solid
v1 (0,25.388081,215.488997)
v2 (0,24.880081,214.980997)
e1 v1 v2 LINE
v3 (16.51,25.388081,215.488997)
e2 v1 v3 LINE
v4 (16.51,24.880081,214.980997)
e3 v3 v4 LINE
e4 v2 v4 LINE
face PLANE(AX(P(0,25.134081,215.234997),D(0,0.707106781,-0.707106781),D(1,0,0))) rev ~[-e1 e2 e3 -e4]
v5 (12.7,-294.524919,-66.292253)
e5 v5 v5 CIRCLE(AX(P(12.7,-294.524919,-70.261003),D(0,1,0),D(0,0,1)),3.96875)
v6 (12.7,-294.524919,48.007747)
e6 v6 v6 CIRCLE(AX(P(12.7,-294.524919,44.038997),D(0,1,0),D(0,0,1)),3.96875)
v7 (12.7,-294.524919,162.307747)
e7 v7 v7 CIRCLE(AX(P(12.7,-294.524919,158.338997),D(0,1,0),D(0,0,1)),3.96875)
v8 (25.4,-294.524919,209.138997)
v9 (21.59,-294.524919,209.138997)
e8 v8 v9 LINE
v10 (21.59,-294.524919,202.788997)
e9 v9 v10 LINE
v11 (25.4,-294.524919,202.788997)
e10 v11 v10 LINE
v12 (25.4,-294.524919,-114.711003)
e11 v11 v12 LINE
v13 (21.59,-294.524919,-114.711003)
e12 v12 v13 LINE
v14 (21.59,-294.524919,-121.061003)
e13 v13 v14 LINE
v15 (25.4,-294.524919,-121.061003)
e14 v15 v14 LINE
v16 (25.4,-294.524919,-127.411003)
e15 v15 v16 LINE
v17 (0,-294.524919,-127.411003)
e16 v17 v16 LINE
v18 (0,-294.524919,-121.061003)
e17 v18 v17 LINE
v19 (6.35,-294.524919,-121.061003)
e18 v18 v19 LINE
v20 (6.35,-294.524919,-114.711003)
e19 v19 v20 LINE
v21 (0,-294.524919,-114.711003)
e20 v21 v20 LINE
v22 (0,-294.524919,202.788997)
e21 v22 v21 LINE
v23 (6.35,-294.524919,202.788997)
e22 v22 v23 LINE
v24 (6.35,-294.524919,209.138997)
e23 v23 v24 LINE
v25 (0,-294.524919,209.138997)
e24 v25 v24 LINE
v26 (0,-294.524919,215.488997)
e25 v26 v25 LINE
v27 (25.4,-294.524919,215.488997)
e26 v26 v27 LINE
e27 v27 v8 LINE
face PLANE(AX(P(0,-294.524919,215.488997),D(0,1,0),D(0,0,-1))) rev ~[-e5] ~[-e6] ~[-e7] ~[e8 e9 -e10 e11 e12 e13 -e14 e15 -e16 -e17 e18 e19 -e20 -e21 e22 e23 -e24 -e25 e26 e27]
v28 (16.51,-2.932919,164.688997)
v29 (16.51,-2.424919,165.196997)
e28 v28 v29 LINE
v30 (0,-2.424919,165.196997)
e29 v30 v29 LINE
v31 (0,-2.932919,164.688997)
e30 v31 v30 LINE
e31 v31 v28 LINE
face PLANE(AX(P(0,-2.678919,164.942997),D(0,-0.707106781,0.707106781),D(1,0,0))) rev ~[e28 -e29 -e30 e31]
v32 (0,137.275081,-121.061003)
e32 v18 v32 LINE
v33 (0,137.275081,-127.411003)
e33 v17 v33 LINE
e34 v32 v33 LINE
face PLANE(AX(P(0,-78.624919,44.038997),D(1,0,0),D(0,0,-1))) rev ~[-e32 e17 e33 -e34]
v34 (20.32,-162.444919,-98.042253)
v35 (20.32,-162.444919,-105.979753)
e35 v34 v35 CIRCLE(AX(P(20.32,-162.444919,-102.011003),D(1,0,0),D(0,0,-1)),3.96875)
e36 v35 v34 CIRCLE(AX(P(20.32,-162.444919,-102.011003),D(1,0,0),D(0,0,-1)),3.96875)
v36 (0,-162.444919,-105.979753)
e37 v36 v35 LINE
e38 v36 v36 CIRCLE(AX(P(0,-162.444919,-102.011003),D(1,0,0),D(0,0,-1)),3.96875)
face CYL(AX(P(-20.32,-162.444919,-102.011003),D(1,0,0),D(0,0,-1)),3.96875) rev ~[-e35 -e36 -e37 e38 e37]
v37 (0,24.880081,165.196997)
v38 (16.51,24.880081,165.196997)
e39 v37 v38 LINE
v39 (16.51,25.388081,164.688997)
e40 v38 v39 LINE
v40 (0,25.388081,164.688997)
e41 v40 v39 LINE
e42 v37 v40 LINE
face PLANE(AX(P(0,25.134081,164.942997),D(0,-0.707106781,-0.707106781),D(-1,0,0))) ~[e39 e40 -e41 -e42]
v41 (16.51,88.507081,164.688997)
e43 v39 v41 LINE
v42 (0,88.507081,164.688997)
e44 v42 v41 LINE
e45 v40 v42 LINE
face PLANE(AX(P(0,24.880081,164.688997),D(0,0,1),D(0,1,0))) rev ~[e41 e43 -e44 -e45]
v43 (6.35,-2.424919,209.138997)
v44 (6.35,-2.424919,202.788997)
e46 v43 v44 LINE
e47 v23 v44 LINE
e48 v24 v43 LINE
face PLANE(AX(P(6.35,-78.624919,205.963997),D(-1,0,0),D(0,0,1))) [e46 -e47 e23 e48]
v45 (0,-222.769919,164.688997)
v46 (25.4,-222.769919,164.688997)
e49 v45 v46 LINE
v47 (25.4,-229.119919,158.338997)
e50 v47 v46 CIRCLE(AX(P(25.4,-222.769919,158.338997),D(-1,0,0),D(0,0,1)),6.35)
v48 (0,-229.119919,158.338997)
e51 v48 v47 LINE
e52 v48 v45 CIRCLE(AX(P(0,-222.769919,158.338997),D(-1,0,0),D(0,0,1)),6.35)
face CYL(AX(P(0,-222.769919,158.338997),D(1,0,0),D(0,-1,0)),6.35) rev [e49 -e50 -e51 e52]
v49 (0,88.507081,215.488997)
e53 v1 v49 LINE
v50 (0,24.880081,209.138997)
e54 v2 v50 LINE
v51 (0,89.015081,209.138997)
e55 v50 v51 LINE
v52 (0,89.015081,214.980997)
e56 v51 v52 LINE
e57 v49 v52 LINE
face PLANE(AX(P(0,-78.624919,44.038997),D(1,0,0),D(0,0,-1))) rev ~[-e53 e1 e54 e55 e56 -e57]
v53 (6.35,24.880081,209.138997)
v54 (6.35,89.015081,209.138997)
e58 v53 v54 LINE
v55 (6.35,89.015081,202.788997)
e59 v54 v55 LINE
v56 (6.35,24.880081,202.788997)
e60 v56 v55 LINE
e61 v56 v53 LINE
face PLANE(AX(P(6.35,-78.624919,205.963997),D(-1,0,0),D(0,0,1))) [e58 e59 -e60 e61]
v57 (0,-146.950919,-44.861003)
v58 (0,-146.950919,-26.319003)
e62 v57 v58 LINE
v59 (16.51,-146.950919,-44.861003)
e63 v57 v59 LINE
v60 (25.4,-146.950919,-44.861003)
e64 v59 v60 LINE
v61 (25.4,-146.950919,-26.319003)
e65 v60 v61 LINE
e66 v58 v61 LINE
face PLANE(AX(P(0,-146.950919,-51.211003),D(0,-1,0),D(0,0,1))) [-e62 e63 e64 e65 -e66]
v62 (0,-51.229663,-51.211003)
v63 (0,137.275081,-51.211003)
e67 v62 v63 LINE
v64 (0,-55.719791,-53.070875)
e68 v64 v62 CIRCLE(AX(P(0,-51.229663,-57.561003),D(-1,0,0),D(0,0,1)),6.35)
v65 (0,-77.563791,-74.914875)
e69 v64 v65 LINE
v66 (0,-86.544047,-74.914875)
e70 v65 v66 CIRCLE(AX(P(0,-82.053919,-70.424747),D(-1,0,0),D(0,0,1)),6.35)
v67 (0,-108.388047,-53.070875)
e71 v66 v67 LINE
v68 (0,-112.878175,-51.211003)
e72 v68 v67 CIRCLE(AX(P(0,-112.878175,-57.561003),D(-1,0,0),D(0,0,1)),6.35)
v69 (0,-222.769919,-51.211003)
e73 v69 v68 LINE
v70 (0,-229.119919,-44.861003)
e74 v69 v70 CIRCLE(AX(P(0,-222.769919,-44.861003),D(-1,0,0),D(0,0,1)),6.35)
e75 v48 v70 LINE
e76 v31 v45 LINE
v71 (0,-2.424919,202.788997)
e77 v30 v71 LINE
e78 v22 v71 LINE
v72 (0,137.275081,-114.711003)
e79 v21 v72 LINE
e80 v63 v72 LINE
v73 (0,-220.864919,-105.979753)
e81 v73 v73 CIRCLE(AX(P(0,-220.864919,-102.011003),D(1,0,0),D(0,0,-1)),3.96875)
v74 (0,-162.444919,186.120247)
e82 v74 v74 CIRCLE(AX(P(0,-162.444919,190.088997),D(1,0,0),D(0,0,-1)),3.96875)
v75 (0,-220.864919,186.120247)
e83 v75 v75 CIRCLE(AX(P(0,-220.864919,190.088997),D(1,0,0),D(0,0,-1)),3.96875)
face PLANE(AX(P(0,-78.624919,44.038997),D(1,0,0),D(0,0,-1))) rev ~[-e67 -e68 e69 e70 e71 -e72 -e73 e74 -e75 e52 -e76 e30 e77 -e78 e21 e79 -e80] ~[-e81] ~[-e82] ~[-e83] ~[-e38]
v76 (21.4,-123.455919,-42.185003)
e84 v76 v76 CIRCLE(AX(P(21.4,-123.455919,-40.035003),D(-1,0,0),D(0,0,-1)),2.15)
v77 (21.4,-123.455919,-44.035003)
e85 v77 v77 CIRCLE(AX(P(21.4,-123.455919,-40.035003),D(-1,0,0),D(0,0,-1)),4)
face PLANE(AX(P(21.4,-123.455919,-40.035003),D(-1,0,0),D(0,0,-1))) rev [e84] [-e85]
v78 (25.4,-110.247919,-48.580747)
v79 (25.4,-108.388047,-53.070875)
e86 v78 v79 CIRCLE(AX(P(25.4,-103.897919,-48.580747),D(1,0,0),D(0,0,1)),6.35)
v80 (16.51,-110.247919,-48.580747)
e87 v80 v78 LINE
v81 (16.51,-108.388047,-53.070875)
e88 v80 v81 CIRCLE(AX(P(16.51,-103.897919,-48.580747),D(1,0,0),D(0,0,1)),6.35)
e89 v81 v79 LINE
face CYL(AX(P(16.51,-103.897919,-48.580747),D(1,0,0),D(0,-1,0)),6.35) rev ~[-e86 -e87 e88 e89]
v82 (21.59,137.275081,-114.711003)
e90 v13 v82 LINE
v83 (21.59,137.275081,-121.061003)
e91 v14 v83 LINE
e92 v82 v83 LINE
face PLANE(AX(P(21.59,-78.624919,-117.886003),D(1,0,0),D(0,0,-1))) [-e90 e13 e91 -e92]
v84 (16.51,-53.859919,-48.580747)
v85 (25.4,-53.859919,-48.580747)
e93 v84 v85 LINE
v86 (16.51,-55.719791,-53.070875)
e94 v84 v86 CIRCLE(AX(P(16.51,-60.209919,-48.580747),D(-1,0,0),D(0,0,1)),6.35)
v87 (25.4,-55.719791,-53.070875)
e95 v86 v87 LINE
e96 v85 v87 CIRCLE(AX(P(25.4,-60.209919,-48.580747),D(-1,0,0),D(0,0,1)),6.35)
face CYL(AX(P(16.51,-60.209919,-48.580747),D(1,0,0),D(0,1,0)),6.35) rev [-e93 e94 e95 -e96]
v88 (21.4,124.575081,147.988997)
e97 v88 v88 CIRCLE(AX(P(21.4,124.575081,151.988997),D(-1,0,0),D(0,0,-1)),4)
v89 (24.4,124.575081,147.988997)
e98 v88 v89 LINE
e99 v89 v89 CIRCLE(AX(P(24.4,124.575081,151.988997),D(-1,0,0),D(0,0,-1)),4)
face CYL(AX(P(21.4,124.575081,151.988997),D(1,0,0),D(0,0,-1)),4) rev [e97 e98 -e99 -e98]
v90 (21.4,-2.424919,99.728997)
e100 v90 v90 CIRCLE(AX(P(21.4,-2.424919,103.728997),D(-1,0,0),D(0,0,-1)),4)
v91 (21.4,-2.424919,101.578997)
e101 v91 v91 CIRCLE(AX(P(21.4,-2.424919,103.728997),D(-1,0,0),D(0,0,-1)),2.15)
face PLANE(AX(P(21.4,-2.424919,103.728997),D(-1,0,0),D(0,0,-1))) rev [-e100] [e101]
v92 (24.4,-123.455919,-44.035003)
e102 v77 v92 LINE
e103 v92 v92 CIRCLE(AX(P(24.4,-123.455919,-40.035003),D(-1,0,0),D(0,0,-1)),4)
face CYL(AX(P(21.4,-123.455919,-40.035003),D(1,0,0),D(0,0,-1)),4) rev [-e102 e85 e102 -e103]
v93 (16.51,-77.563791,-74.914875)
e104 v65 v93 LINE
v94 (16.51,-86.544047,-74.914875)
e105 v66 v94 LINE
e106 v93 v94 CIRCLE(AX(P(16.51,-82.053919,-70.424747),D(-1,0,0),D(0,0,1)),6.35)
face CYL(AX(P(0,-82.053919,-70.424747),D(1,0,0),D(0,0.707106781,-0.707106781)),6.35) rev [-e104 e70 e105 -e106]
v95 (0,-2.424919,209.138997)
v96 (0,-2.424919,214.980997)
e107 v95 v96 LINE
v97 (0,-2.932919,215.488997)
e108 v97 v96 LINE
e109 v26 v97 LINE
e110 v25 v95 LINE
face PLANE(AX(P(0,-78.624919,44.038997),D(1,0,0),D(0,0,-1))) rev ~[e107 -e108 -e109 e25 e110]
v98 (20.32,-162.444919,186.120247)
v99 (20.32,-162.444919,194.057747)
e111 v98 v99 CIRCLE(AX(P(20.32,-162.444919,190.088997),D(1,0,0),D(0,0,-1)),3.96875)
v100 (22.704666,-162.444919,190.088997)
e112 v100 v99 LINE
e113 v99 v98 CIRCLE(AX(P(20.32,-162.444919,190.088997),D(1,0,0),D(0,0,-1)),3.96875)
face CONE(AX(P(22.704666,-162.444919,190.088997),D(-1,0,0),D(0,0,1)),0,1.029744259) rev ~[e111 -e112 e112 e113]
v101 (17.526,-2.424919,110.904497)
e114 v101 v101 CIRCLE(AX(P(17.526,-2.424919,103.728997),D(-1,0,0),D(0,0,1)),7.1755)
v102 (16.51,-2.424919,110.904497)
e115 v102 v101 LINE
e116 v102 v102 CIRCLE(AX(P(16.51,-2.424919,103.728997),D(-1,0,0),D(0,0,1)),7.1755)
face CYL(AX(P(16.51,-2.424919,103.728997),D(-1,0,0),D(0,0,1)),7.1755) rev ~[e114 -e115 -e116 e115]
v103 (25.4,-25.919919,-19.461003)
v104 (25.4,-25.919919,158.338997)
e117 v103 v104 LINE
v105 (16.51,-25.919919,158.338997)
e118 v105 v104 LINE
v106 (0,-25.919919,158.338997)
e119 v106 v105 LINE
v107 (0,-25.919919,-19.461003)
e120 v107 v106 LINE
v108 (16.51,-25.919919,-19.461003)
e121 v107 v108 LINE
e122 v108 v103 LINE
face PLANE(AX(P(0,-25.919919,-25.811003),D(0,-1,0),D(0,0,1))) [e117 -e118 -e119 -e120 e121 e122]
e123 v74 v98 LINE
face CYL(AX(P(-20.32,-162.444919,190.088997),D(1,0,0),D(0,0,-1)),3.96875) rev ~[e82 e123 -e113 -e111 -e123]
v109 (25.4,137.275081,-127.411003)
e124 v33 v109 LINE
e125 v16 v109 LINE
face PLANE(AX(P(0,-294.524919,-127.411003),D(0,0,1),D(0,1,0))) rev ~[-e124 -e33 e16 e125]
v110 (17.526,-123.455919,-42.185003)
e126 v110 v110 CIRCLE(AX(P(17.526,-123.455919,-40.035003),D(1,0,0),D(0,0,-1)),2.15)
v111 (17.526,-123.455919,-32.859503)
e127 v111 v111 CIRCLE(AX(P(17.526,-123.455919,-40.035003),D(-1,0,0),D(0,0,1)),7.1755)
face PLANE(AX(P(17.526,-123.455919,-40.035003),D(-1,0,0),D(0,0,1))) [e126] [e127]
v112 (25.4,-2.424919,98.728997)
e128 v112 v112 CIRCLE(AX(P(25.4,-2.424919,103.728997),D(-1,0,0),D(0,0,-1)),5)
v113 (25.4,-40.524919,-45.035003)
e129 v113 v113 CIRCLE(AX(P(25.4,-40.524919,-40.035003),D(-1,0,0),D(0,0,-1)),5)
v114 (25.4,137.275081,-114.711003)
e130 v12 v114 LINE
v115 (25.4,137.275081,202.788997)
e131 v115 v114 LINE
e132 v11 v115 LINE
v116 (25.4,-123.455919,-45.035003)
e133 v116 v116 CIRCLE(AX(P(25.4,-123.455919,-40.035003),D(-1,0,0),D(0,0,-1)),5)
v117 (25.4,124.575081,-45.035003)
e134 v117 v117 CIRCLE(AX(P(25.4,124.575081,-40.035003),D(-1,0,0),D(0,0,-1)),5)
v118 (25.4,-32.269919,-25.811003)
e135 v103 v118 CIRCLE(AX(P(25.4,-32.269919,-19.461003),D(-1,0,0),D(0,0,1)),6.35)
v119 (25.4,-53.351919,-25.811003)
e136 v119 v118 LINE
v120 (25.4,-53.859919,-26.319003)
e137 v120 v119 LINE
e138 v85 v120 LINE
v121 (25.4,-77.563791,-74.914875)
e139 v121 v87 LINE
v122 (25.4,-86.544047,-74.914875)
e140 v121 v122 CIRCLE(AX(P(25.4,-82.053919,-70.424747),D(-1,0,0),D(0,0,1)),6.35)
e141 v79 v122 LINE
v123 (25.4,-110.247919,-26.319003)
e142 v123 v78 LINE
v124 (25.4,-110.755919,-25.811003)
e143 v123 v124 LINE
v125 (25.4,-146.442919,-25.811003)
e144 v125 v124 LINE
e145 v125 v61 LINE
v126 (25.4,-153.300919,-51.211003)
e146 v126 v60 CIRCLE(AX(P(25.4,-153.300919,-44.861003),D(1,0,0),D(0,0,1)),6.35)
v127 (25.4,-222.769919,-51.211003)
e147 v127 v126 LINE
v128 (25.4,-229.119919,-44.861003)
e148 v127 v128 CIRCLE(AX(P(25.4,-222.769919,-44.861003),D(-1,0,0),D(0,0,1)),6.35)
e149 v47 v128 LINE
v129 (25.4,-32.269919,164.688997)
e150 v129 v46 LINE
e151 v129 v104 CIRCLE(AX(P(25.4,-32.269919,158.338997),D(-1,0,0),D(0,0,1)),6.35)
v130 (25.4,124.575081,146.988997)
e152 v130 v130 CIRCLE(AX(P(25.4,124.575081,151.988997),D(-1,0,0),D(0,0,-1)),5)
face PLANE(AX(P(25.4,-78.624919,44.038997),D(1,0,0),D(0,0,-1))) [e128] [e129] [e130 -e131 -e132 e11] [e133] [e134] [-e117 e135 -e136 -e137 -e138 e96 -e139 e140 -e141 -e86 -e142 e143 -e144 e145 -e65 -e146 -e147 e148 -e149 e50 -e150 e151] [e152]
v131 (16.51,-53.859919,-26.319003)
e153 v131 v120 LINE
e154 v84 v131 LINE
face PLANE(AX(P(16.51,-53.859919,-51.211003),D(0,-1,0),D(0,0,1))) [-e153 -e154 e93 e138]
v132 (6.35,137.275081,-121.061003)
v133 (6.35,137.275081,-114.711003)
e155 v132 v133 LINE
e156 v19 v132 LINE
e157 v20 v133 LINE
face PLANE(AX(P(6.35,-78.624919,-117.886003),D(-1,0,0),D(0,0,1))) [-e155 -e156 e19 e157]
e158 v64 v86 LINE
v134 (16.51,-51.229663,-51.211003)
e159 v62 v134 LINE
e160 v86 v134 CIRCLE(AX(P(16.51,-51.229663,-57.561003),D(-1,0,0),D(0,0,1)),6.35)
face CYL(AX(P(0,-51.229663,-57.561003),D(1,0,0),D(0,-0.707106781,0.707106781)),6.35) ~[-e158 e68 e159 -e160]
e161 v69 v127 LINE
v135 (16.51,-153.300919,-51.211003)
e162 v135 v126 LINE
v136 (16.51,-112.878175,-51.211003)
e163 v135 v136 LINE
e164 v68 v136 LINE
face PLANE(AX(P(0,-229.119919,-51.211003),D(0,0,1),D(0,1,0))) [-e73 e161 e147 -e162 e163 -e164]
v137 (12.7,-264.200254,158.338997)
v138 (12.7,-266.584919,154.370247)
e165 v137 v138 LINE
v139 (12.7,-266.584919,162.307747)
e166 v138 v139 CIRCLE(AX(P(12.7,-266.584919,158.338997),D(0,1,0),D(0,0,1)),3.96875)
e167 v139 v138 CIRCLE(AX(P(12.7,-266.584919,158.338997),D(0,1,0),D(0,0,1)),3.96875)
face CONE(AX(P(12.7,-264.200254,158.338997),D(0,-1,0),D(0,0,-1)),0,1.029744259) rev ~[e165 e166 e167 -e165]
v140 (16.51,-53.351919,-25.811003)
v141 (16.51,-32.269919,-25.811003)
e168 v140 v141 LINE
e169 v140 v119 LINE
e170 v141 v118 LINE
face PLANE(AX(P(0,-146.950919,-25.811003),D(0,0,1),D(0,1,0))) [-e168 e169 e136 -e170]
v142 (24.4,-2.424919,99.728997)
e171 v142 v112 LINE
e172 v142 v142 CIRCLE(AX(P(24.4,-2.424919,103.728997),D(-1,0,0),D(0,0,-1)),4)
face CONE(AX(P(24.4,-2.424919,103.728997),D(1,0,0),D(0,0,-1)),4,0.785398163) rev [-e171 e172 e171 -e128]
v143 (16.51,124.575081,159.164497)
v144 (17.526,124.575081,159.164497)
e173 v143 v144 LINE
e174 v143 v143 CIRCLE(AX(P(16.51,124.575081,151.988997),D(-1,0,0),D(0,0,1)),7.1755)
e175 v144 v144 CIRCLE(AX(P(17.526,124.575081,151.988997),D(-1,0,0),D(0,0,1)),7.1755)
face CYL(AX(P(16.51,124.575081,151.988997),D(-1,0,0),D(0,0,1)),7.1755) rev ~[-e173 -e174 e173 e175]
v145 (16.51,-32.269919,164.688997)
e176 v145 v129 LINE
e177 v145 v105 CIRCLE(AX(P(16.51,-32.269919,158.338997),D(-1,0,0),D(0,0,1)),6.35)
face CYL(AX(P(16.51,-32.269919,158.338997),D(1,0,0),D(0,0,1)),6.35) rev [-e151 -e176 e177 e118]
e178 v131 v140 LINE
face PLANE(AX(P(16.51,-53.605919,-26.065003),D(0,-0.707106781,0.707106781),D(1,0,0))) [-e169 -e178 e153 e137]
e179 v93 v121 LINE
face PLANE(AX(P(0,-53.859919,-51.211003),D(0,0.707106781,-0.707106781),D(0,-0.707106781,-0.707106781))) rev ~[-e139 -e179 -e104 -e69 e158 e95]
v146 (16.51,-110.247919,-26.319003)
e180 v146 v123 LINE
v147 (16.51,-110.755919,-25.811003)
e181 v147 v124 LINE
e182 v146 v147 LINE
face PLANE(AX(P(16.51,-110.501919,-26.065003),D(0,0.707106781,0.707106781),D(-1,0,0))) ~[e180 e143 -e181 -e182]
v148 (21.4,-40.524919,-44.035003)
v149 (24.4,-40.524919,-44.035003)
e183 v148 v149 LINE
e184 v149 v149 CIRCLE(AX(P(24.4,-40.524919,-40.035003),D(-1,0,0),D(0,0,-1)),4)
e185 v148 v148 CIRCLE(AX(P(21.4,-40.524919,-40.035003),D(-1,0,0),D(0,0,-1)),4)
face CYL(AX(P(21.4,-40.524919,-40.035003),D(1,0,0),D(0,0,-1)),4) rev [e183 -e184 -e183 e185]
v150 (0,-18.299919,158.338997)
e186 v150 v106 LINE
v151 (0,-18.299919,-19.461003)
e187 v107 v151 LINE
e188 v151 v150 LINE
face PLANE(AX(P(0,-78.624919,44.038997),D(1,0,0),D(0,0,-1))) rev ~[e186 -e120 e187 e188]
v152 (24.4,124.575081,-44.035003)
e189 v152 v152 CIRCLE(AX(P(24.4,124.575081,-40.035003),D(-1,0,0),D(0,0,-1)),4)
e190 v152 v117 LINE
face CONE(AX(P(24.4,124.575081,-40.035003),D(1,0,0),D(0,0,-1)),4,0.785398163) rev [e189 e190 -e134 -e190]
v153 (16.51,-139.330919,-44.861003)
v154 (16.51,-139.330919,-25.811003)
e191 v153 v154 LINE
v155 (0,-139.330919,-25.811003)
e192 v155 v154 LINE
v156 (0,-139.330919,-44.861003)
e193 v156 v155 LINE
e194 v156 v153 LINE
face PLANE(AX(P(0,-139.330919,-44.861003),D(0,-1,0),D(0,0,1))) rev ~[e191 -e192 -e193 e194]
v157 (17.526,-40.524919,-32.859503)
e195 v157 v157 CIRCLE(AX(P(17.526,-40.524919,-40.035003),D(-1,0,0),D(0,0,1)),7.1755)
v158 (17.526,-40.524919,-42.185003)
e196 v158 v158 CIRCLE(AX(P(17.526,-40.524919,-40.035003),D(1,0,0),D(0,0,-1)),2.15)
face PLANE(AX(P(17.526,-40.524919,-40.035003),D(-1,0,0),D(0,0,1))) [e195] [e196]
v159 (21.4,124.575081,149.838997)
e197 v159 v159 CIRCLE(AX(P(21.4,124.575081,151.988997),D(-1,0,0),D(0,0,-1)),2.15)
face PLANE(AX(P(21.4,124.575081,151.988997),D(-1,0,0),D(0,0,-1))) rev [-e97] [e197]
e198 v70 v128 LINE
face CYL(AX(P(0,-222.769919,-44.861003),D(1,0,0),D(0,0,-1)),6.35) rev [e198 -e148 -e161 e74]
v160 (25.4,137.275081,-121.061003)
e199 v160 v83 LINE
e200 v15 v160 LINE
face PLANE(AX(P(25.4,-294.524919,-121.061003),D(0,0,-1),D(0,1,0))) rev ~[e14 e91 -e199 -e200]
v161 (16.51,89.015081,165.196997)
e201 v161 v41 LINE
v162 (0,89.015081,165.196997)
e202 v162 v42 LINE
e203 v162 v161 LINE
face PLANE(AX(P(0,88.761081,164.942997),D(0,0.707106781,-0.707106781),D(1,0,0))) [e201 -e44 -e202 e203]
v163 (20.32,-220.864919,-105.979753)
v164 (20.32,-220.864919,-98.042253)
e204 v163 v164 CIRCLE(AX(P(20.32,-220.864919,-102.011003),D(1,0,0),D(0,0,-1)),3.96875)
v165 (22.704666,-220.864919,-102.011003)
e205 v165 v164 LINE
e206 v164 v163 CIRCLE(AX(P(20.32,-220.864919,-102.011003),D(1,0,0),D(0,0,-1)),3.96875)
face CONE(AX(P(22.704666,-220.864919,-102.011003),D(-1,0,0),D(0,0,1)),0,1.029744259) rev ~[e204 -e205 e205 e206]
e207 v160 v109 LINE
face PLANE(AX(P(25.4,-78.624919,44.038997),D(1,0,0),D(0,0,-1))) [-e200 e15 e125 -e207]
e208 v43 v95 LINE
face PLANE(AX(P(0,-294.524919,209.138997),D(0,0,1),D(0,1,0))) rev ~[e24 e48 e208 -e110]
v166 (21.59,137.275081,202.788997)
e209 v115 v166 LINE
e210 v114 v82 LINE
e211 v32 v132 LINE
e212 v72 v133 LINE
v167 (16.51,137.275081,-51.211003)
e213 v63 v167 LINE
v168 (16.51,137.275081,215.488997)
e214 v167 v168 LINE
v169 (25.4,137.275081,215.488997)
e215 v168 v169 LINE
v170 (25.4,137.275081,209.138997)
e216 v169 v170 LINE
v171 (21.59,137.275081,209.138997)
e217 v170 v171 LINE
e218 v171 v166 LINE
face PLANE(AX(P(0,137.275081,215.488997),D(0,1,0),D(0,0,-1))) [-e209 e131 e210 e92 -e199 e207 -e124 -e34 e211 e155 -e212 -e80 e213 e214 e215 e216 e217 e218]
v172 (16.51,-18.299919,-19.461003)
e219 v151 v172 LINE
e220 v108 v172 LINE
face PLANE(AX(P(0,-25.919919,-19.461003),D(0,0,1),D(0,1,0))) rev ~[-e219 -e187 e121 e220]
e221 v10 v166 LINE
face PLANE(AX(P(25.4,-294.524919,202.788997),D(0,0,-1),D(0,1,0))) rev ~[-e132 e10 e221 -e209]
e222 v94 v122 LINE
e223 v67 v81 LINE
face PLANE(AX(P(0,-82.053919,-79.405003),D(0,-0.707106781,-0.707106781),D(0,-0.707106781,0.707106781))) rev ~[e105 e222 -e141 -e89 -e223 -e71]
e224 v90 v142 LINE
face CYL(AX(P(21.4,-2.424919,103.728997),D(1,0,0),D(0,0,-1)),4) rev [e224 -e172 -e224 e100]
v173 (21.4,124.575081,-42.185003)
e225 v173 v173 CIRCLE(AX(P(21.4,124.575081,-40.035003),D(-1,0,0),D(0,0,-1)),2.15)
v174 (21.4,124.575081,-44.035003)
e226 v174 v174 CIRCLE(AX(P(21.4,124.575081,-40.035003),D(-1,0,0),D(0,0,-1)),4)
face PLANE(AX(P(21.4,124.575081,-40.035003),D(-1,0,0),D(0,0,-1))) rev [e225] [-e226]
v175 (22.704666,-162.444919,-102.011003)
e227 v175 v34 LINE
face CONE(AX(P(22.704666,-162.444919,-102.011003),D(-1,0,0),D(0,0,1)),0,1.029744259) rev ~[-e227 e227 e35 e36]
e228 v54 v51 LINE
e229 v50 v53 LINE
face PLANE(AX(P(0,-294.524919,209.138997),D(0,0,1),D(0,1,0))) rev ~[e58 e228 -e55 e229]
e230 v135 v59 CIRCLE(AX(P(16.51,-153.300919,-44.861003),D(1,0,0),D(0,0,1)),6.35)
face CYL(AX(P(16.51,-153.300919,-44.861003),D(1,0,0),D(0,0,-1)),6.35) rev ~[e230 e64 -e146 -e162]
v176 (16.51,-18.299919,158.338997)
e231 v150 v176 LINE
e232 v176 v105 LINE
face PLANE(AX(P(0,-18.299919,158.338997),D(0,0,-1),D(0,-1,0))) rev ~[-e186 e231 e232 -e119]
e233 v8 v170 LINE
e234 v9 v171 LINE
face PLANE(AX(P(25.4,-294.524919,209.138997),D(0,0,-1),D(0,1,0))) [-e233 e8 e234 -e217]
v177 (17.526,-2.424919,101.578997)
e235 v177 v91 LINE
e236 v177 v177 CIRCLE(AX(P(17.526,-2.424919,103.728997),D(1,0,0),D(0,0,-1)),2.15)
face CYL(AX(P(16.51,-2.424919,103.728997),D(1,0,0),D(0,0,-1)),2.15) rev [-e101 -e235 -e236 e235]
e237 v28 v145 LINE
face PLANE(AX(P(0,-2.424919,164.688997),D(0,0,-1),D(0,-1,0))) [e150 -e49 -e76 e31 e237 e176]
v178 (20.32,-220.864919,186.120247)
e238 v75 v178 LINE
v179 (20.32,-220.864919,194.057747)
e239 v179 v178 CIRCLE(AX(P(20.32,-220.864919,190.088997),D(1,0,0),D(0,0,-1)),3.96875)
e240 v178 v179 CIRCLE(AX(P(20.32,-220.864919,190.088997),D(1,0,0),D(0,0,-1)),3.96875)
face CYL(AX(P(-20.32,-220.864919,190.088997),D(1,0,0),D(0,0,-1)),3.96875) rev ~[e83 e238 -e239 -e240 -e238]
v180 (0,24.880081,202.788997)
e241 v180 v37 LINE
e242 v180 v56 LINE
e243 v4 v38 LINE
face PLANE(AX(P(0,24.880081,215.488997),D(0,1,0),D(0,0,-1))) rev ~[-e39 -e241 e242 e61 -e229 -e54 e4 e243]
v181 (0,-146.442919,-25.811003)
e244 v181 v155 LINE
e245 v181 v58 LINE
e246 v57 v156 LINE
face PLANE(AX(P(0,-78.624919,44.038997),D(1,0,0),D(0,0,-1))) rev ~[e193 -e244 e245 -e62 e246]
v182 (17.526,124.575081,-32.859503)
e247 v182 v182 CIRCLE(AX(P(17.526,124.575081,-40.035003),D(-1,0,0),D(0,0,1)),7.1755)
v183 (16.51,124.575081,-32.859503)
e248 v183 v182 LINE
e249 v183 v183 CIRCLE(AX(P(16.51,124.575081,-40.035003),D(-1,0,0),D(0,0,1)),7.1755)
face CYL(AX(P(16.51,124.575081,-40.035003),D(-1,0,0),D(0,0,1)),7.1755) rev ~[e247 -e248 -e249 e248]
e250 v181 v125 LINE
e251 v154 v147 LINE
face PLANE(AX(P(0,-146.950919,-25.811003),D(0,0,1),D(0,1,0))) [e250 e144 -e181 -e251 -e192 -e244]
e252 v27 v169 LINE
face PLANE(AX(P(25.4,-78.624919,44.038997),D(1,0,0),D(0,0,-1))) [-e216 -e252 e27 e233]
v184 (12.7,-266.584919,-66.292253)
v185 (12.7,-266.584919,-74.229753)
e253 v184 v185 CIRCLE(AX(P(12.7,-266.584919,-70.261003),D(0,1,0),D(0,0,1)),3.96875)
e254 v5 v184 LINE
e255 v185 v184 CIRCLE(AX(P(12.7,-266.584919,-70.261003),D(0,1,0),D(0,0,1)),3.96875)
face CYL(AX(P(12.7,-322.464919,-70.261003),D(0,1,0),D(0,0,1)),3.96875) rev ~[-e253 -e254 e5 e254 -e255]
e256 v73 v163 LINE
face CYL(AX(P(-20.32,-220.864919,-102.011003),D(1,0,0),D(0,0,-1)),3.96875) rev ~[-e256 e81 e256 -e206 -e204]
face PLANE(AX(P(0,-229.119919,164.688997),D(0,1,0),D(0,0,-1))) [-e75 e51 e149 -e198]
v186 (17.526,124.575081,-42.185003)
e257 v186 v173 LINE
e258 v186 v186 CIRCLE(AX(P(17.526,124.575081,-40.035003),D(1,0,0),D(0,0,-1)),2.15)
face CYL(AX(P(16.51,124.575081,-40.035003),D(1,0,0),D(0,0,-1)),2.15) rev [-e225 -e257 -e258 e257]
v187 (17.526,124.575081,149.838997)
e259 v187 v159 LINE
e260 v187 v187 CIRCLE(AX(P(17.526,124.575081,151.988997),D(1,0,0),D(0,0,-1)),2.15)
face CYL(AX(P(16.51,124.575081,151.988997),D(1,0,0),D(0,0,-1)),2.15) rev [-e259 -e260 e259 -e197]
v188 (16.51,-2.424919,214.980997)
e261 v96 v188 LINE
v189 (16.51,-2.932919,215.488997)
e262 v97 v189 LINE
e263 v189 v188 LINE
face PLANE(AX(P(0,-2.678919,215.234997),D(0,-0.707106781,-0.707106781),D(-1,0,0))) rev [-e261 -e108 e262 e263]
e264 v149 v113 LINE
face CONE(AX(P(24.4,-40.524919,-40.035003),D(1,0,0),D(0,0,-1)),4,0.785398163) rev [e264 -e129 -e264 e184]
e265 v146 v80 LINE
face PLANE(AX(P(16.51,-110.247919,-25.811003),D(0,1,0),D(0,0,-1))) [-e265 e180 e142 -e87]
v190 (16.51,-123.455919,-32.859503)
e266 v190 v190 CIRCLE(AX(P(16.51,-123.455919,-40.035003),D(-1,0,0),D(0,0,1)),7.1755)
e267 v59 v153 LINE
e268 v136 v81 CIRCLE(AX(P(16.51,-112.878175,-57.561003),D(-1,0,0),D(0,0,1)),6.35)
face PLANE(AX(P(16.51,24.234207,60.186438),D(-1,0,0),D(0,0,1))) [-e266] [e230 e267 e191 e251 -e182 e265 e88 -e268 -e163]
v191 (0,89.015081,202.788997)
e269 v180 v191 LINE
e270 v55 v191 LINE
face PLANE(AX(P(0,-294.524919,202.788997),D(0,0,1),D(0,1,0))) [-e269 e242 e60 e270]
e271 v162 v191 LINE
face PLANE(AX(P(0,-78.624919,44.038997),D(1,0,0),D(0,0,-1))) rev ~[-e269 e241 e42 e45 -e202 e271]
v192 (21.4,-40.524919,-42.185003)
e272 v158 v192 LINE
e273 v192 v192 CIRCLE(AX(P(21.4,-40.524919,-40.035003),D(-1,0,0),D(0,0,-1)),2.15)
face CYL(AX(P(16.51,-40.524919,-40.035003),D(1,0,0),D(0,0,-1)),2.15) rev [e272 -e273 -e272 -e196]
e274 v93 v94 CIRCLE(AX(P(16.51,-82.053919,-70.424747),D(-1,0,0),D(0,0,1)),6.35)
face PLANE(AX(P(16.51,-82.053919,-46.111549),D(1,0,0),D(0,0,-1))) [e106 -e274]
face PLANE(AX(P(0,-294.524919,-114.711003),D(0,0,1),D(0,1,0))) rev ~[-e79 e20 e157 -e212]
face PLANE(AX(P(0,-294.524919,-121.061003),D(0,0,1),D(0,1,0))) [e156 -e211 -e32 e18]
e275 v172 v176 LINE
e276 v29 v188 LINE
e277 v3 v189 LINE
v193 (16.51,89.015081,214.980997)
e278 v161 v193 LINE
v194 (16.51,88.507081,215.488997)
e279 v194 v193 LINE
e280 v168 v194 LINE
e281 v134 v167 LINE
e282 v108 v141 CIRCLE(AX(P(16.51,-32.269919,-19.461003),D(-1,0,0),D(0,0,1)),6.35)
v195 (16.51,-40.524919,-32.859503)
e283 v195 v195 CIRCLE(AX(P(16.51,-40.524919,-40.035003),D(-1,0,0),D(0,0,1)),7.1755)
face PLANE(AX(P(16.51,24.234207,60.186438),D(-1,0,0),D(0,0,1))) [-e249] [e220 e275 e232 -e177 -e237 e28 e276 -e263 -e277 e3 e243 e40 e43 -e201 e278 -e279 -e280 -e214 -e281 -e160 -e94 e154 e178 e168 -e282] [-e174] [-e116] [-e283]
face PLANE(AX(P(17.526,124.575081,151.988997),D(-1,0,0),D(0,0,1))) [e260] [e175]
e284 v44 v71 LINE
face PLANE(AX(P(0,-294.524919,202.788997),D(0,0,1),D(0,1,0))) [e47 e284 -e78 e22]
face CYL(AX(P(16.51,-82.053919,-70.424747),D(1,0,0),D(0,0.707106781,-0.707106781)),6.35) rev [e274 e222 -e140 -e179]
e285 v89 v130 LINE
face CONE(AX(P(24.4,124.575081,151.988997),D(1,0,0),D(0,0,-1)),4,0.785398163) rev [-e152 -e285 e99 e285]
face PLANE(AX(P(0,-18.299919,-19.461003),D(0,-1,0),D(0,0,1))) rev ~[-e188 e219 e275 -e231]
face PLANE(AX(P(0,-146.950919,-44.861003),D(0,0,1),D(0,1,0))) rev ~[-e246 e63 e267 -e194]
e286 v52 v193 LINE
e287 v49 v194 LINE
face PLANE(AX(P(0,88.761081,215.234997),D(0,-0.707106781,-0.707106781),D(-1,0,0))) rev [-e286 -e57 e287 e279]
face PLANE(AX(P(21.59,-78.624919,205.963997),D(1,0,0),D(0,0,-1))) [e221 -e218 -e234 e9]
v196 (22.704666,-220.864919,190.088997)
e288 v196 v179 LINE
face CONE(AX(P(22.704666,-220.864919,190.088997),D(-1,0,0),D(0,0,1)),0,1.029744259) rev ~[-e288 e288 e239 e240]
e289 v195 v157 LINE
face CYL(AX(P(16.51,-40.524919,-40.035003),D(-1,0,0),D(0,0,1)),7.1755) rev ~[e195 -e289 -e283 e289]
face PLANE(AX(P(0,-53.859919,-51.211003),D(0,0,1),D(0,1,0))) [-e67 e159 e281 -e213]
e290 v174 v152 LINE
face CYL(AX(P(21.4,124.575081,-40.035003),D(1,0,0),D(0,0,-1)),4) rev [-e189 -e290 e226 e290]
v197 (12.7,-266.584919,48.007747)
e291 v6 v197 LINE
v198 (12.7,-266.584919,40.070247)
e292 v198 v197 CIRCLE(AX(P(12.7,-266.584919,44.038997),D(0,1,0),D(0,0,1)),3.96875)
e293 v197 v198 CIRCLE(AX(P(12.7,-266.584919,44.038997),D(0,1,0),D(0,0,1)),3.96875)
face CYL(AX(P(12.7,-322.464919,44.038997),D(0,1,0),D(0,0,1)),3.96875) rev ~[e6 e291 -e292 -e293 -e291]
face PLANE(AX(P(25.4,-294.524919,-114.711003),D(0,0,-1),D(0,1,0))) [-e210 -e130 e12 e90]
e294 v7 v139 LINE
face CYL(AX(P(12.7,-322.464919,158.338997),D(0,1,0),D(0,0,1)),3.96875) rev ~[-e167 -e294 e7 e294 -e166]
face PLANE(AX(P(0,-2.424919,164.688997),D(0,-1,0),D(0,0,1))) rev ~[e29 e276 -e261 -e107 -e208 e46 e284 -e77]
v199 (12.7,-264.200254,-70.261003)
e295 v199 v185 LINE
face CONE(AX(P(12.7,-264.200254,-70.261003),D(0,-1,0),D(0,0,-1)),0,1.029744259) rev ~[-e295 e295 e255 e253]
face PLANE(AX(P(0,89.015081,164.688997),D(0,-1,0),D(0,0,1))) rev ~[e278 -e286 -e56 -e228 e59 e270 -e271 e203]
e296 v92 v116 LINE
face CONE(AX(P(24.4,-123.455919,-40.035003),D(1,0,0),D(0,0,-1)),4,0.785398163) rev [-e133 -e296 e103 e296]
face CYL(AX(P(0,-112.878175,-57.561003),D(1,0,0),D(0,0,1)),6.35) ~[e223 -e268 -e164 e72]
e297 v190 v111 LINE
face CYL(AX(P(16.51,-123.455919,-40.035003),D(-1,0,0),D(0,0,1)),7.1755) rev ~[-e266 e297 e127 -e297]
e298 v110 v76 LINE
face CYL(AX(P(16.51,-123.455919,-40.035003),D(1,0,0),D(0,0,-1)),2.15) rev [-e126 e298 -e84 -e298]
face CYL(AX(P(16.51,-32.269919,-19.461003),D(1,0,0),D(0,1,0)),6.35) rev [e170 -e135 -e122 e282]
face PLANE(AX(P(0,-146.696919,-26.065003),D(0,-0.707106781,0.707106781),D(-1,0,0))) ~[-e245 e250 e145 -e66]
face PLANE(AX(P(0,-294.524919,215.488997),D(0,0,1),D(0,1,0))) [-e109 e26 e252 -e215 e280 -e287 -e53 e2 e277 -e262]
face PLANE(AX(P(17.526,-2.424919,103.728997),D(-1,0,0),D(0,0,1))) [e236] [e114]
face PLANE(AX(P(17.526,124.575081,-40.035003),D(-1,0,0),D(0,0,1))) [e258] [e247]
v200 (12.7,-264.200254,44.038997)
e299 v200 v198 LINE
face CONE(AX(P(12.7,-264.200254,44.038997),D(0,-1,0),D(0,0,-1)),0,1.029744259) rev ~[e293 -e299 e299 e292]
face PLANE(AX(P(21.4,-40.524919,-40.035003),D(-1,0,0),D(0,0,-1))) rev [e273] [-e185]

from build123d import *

# Parameters (mm, degrees)
SKETCH2_W                     = 342.9
SKETCH2_H                     = 431.8
BASE_DEPTH                    = 25.4
CUT_EXTRUDE3_REACH            = 27.4
NC_POCKET_DEPTH               = 16.51
FILLET9_R                     = 6.35
FILLET6_R                     = 6.35
CBORE_FOR_M4_SHCS1_AT_2_COUNT = 2
CBORE_FOR_M4_SHCS1_AT_2_PITCH = 192.024
CBORE_FOR_M4_SHCS1_AT_3_COUNT = 2
CBORE_FOR_M4_SHCS1_AT_3_PITCH = 313.675937134
CBORE_FOR_M4_SHCS1_AT_4_COUNT = 2
CBORE_FOR_M4_SHCS1_AT_4_PITCH = 253.241439295
CBORE_FOR_M4_SHCS1_AT_5_COUNT = 2
CBORE_FOR_M4_SHCS1_AT_5_PITCH = 135.860323862
SKETCH18_R                    = 7.1755
CUT_EXTRUDE4_DEPTH            = 1.016
F_3_8_16_TAPPED_HOLE1_D       = 7.9375
F_3_8_16_TAPPED_HOLE1_DEPTH   = 27.94
F_3_8_16_TAPPED_HOLE1_TIP     = 2.384665582
F_3_8_16_TAPPED_HOLE2_D       = 7.9375
F_3_8_16_TAPPED_HOLE2_DEPTH   = 20.32
F_3_8_16_TAPPED_HOLE2_TIP     = 2.384665582
CUT_EXTRUDE5_REACH            = 10.89
FILLET1_R                     = 6.35
FILLET2_R                     = 6.35
CHAMFER1_SIZE                 = 0.508
SKETCH21_W                    = 6.35
SKETCH21_H                    = 431.8
CUT_EXTRUDE6_DEPTH            = 6.35
SKETCH22_W                    = 6.35
SKETCH22_H                    = 431.8
CUT_EXTRUDE7_DEPTH            = 3.81


with BuildPart() as part:
    # Sketch2 → Base (new body)
    with BuildSketch(Plane(origin=(0, 0, 0), x_dir=(0, 0, -1), z_dir=(1, 0, 0))):
        with Locations((-44.038996764, -78.624919094)):
            Rectangle(SKETCH2_W, SKETCH2_H)
    extrude(amount=BASE_DEPTH)

    # Sketch3 → Cut-Extrude3 (cut, up to next)
    with BuildSketch(Plane(origin=(0, 0, 0), x_dir=(0, 0, -1), z_dir=(1, 0, 0)), mode=Mode.PRIVATE) as cut_extrude3_sk1:
        Polygon((-164.688996764, -25.919919094), (-164.688996764, -229.119919094), (51.211003236, -229.119919094), (51.211003236, -146.950919094), (25.811003236, -146.950919094), (25.811003236, -25.919919094), align=None)
    cut_extrude3_tool1 = extrude(cut_extrude3_sk1.sketch, amount=CUT_EXTRUDE3_REACH, mode=Mode.PRIVATE) & part.part
    add(cut_extrude3_tool1.solids().sort_by_distance((0, -130.615794, 63.91645))[0], mode=Mode.SUBTRACT)

    # Sketch4 → NC pocket (cut)
    with BuildSketch(Plane(origin=(0, 0, 0), x_dir=(0, 0, -1), z_dir=(1, 0, 0))):
        Polygon((19.461003236, -18.299919094), (-158.338996764, -18.299919094), (-158.338996764, -25.919919094), (-164.688996764, -25.919919094), (-164.688996764, -12.583714933), (-164.688996764, -2.424919094), (-215.488996764, -2.424919094), (-215.488996764, 24.880080906), (-164.688996764, 24.880080906), (-164.688996764, 89.015080906), (-215.488996764, 89.015080906), (-215.488996764, 90.285080906), (-215.488996764, 137.275080906), (-202.788996764, 137.275080906), (51.211003236, 137.275080906), (51.211003236, -15.124919094), (51.211003236, -53.859919094), (79.405003236, -82.053919094), (51.211003236, -110.247919094), (51.211003236, -136.155919094), (51.211003236, -146.950919094), (44.861003236, -146.950919094), (44.861003236, -139.330919094), (25.811003236, -139.330919094), (25.811003236, -25.919919094), (19.461003236, -25.919919094), align=None)
    extrude(amount=NC_POCKET_DEPTH, mode=Mode.SUBTRACT)

    # Fillet9
    fillet9_edges = [part.edges().sort_by_distance(p)[0] for p in [
        (8.255, -53.859919094, -51.211003236),
        (8.255, -110.247919094, -51.211003236),
    ]]
    fillet(fillet9_edges, radius=FILLET9_R)

    # Fillet6
    fillet6_edges = [part.edges().sort_by_distance(p)[0] for p in [
        (8.255, -82.053919094, -79.405003236),
    ]]
    fillet(fillet6_edges, radius=FILLET6_R)

    # Sketch10 → CBORE for M4 SHCS1 (revolve, cut)
    with BuildSketch(Plane(origin=(25.4, 124.575080906, 151.988996764), x_dir=(0, 0, -1), z_dir=(0, 1, 0))):
        Polygon((0, 0), (0, 8.89), (2.15, 8.89), (2.15, 4), (4, 4), (4, 1), (5, 0), align=None)
    cbore_for_m4_shcs1 = revolve(axis=Axis((31.75, 124.575080906, 151.988996764), (-1, 0, 0)), mode=Mode.SUBTRACT)

    # CBORE for M4 SHCS1 at 2: CBORE for M4 SHCS1 ×2
    with Locations(*[(0, 0, -i * CBORE_FOR_M4_SHCS1_AT_2_PITCH) for i in range(1, CBORE_FOR_M4_SHCS1_AT_2_COUNT)]):
        add(cbore_for_m4_shcs1, mode=Mode.SUBTRACT)

    # CBORE for M4 SHCS1 at 3: CBORE for M4 SHCS1 ×2
    with Locations(*[Vector(0, -0.790723708, -0.612173193) * (i * CBORE_FOR_M4_SHCS1_AT_3_PITCH) for i in range(1, CBORE_FOR_M4_SHCS1_AT_3_COUNT)]):
        add(cbore_for_m4_shcs1, mode=Mode.SUBTRACT)

    # CBORE for M4 SHCS1 at 4: CBORE for M4 SHCS1 ×2
    with Locations(*[Vector(0, -0.651947013, -0.758264526) * (i * CBORE_FOR_M4_SHCS1_AT_4_PITCH) for i in range(1, CBORE_FOR_M4_SHCS1_AT_4_COUNT)]):
        add(cbore_for_m4_shcs1, mode=Mode.SUBTRACT)

    # CBORE for M4 SHCS1 at 5: CBORE for M4 SHCS1 ×2
    with Locations(*[Vector(0, -0.934783581, -0.355217761) * (i * CBORE_FOR_M4_SHCS1_AT_5_PITCH) for i in range(1, CBORE_FOR_M4_SHCS1_AT_5_COUNT)]):
        add(cbore_for_m4_shcs1, mode=Mode.SUBTRACT)

    # Sketch18 → Cut-Extrude4 (cut)
    with BuildSketch(Plane.ZY.offset(-16.51)):
        with Locations((-40.035003236, 124.575080906)):
            Circle(SKETCH18_R)
        with Locations((151.988996764, 124.575080906)):
            Circle(SKETCH18_R)
        with Locations((103.728996764, -2.424919094)):
            Circle(SKETCH18_R)
        with Locations((-40.035003236, -40.524919094)):
            Circle(SKETCH18_R)
        with Locations((-40.035003236, -123.455919094)):
            Circle(SKETCH18_R)
    extrude(amount=-CUT_EXTRUDE4_DEPTH, mode=Mode.SUBTRACT)

    # 3/8-16 Tapped Hole1
    with Locations(Plane(origin=(12.7, -294.524919094, -70.261003236), x_dir=(0, 0, -1), z_dir=(0, -1, 0))):
        with Locations((0, 0), (-114.3, 0), (-228.6, 0)):
            Hole(F_3_8_16_TAPPED_HOLE1_D / 2, depth=F_3_8_16_TAPPED_HOLE1_DEPTH)
            with Locations((0, 0, -(F_3_8_16_TAPPED_HOLE1_DEPTH + F_3_8_16_TAPPED_HOLE1_TIP / 2))):  # 118° drill point
                Cone(0, F_3_8_16_TAPPED_HOLE1_D / 2, F_3_8_16_TAPPED_HOLE1_TIP, mode=Mode.SUBTRACT)

    # 3/8-16 Tapped Hole2
    with Locations(Plane.ZY):
        with Locations((190.088996764, -220.864919094), (190.088996764, -162.444919094), (-102.011003236, -220.864919094), (-102.011003236, -162.444919094)):
            Hole(F_3_8_16_TAPPED_HOLE2_D / 2, depth=F_3_8_16_TAPPED_HOLE2_DEPTH)
            with Locations((0, 0, -(F_3_8_16_TAPPED_HOLE2_DEPTH + F_3_8_16_TAPPED_HOLE2_TIP / 2))):  # 118° drill point
                Cone(0, F_3_8_16_TAPPED_HOLE2_D / 2, F_3_8_16_TAPPED_HOLE2_TIP, mode=Mode.SUBTRACT)

    # Sketch20 → Cut-Extrude5 (cut, up to next)
    with BuildSketch(Plane.ZY.offset(-16.51), mode=Mode.PRIVATE) as cut_extrude5_sk1:
        Polygon((-51.211003236, -53.859919094), (-25.811003236, -53.859919094), (-25.811003236, -110.247919094), (-51.211003236, -110.247919094), (-79.405003236, -82.053919094), align=None)
    cut_extrude5_tool1 = extrude(cut_extrude5_sk1.sketch, amount=-CUT_EXTRUDE5_REACH, mode=Mode.PRIVATE) & part.part
    add(cut_extrude5_tool1.solids().sort_by_distance((16.51, -82.053919, -46.398071))[0], mode=Mode.SUBTRACT)

    # Fillet1
    fillet1_edges = [part.edges().sort_by_distance(p)[0] for p in [
        (20.955, -25.919919094, 164.688996764),
        (12.7, -229.119919094, 164.688996764),
        (12.7, -229.119919094, -51.211003236),
        (20.955, -146.950919094, -51.211003236),
        (20.955, -25.919919094, -25.811003236),
    ]]
    fillet(fillet1_edges, radius=FILLET1_R)

    # Fillet2
    fillet2_edges = [part.edges().sort_by_distance(p)[0] for p in [
        (20.955, -82.053919094, -79.405003236),
        (20.955, -110.247919094, -51.211003236),
        (20.955, -53.859919094, -51.211003236),
    ]]
    fillet(fillet2_edges, radius=FILLET2_R)

    # Chamfer1
    chamfer1_edges = [part.edges().sort_by_distance(p)[0] for p in [
        (12.7, -146.950919094, -25.811003236),
        (20.955, -53.859919094, -25.811003236),
        (20.955, -110.247919094, -25.811003236),
        (8.255, 89.015080906, 215.488996764),
        (8.255, 89.015080906, 164.688996764),
        (8.255, 24.880080906, 164.688996764),
        (8.255, 24.880080906, 215.488996764),
        (8.255, -2.424919094, 215.488996764),
        (8.255, -2.424919094, 164.688996764),
    ]]
    chamfer(chamfer1_edges, length=CHAMFER1_SIZE)

    # Sketch21 → Cut-Extrude6 (cut)
    with BuildSketch(Plane.ZY):
        with Locations((205.963996764, -78.624919094)):
            Rectangle(SKETCH21_W, SKETCH21_H)
        with Locations((-117.886003236, -78.624919094)):
            Rectangle(SKETCH21_W, SKETCH21_H)
    extrude(amount=-CUT_EXTRUDE6_DEPTH, mode=Mode.SUBTRACT)

    # Sketch22 → Cut-Extrude7 (cut)
    with BuildSketch(Plane(origin=(25.4, 0, 0), x_dir=(0, 0, -1), z_dir=(1, 0, 0))):
        with Locations((-205.963996764, -78.624919094)):
            Rectangle(SKETCH22_W, SKETCH22_H)
        with Locations((117.886003236, -78.624919094)):
            Rectangle(SKETCH22_W, SKETCH22_H)
    extrude(amount=-CUT_EXTRUDE7_DEPTH, mode=Mode.SUBTRACT)


solid = part.part
